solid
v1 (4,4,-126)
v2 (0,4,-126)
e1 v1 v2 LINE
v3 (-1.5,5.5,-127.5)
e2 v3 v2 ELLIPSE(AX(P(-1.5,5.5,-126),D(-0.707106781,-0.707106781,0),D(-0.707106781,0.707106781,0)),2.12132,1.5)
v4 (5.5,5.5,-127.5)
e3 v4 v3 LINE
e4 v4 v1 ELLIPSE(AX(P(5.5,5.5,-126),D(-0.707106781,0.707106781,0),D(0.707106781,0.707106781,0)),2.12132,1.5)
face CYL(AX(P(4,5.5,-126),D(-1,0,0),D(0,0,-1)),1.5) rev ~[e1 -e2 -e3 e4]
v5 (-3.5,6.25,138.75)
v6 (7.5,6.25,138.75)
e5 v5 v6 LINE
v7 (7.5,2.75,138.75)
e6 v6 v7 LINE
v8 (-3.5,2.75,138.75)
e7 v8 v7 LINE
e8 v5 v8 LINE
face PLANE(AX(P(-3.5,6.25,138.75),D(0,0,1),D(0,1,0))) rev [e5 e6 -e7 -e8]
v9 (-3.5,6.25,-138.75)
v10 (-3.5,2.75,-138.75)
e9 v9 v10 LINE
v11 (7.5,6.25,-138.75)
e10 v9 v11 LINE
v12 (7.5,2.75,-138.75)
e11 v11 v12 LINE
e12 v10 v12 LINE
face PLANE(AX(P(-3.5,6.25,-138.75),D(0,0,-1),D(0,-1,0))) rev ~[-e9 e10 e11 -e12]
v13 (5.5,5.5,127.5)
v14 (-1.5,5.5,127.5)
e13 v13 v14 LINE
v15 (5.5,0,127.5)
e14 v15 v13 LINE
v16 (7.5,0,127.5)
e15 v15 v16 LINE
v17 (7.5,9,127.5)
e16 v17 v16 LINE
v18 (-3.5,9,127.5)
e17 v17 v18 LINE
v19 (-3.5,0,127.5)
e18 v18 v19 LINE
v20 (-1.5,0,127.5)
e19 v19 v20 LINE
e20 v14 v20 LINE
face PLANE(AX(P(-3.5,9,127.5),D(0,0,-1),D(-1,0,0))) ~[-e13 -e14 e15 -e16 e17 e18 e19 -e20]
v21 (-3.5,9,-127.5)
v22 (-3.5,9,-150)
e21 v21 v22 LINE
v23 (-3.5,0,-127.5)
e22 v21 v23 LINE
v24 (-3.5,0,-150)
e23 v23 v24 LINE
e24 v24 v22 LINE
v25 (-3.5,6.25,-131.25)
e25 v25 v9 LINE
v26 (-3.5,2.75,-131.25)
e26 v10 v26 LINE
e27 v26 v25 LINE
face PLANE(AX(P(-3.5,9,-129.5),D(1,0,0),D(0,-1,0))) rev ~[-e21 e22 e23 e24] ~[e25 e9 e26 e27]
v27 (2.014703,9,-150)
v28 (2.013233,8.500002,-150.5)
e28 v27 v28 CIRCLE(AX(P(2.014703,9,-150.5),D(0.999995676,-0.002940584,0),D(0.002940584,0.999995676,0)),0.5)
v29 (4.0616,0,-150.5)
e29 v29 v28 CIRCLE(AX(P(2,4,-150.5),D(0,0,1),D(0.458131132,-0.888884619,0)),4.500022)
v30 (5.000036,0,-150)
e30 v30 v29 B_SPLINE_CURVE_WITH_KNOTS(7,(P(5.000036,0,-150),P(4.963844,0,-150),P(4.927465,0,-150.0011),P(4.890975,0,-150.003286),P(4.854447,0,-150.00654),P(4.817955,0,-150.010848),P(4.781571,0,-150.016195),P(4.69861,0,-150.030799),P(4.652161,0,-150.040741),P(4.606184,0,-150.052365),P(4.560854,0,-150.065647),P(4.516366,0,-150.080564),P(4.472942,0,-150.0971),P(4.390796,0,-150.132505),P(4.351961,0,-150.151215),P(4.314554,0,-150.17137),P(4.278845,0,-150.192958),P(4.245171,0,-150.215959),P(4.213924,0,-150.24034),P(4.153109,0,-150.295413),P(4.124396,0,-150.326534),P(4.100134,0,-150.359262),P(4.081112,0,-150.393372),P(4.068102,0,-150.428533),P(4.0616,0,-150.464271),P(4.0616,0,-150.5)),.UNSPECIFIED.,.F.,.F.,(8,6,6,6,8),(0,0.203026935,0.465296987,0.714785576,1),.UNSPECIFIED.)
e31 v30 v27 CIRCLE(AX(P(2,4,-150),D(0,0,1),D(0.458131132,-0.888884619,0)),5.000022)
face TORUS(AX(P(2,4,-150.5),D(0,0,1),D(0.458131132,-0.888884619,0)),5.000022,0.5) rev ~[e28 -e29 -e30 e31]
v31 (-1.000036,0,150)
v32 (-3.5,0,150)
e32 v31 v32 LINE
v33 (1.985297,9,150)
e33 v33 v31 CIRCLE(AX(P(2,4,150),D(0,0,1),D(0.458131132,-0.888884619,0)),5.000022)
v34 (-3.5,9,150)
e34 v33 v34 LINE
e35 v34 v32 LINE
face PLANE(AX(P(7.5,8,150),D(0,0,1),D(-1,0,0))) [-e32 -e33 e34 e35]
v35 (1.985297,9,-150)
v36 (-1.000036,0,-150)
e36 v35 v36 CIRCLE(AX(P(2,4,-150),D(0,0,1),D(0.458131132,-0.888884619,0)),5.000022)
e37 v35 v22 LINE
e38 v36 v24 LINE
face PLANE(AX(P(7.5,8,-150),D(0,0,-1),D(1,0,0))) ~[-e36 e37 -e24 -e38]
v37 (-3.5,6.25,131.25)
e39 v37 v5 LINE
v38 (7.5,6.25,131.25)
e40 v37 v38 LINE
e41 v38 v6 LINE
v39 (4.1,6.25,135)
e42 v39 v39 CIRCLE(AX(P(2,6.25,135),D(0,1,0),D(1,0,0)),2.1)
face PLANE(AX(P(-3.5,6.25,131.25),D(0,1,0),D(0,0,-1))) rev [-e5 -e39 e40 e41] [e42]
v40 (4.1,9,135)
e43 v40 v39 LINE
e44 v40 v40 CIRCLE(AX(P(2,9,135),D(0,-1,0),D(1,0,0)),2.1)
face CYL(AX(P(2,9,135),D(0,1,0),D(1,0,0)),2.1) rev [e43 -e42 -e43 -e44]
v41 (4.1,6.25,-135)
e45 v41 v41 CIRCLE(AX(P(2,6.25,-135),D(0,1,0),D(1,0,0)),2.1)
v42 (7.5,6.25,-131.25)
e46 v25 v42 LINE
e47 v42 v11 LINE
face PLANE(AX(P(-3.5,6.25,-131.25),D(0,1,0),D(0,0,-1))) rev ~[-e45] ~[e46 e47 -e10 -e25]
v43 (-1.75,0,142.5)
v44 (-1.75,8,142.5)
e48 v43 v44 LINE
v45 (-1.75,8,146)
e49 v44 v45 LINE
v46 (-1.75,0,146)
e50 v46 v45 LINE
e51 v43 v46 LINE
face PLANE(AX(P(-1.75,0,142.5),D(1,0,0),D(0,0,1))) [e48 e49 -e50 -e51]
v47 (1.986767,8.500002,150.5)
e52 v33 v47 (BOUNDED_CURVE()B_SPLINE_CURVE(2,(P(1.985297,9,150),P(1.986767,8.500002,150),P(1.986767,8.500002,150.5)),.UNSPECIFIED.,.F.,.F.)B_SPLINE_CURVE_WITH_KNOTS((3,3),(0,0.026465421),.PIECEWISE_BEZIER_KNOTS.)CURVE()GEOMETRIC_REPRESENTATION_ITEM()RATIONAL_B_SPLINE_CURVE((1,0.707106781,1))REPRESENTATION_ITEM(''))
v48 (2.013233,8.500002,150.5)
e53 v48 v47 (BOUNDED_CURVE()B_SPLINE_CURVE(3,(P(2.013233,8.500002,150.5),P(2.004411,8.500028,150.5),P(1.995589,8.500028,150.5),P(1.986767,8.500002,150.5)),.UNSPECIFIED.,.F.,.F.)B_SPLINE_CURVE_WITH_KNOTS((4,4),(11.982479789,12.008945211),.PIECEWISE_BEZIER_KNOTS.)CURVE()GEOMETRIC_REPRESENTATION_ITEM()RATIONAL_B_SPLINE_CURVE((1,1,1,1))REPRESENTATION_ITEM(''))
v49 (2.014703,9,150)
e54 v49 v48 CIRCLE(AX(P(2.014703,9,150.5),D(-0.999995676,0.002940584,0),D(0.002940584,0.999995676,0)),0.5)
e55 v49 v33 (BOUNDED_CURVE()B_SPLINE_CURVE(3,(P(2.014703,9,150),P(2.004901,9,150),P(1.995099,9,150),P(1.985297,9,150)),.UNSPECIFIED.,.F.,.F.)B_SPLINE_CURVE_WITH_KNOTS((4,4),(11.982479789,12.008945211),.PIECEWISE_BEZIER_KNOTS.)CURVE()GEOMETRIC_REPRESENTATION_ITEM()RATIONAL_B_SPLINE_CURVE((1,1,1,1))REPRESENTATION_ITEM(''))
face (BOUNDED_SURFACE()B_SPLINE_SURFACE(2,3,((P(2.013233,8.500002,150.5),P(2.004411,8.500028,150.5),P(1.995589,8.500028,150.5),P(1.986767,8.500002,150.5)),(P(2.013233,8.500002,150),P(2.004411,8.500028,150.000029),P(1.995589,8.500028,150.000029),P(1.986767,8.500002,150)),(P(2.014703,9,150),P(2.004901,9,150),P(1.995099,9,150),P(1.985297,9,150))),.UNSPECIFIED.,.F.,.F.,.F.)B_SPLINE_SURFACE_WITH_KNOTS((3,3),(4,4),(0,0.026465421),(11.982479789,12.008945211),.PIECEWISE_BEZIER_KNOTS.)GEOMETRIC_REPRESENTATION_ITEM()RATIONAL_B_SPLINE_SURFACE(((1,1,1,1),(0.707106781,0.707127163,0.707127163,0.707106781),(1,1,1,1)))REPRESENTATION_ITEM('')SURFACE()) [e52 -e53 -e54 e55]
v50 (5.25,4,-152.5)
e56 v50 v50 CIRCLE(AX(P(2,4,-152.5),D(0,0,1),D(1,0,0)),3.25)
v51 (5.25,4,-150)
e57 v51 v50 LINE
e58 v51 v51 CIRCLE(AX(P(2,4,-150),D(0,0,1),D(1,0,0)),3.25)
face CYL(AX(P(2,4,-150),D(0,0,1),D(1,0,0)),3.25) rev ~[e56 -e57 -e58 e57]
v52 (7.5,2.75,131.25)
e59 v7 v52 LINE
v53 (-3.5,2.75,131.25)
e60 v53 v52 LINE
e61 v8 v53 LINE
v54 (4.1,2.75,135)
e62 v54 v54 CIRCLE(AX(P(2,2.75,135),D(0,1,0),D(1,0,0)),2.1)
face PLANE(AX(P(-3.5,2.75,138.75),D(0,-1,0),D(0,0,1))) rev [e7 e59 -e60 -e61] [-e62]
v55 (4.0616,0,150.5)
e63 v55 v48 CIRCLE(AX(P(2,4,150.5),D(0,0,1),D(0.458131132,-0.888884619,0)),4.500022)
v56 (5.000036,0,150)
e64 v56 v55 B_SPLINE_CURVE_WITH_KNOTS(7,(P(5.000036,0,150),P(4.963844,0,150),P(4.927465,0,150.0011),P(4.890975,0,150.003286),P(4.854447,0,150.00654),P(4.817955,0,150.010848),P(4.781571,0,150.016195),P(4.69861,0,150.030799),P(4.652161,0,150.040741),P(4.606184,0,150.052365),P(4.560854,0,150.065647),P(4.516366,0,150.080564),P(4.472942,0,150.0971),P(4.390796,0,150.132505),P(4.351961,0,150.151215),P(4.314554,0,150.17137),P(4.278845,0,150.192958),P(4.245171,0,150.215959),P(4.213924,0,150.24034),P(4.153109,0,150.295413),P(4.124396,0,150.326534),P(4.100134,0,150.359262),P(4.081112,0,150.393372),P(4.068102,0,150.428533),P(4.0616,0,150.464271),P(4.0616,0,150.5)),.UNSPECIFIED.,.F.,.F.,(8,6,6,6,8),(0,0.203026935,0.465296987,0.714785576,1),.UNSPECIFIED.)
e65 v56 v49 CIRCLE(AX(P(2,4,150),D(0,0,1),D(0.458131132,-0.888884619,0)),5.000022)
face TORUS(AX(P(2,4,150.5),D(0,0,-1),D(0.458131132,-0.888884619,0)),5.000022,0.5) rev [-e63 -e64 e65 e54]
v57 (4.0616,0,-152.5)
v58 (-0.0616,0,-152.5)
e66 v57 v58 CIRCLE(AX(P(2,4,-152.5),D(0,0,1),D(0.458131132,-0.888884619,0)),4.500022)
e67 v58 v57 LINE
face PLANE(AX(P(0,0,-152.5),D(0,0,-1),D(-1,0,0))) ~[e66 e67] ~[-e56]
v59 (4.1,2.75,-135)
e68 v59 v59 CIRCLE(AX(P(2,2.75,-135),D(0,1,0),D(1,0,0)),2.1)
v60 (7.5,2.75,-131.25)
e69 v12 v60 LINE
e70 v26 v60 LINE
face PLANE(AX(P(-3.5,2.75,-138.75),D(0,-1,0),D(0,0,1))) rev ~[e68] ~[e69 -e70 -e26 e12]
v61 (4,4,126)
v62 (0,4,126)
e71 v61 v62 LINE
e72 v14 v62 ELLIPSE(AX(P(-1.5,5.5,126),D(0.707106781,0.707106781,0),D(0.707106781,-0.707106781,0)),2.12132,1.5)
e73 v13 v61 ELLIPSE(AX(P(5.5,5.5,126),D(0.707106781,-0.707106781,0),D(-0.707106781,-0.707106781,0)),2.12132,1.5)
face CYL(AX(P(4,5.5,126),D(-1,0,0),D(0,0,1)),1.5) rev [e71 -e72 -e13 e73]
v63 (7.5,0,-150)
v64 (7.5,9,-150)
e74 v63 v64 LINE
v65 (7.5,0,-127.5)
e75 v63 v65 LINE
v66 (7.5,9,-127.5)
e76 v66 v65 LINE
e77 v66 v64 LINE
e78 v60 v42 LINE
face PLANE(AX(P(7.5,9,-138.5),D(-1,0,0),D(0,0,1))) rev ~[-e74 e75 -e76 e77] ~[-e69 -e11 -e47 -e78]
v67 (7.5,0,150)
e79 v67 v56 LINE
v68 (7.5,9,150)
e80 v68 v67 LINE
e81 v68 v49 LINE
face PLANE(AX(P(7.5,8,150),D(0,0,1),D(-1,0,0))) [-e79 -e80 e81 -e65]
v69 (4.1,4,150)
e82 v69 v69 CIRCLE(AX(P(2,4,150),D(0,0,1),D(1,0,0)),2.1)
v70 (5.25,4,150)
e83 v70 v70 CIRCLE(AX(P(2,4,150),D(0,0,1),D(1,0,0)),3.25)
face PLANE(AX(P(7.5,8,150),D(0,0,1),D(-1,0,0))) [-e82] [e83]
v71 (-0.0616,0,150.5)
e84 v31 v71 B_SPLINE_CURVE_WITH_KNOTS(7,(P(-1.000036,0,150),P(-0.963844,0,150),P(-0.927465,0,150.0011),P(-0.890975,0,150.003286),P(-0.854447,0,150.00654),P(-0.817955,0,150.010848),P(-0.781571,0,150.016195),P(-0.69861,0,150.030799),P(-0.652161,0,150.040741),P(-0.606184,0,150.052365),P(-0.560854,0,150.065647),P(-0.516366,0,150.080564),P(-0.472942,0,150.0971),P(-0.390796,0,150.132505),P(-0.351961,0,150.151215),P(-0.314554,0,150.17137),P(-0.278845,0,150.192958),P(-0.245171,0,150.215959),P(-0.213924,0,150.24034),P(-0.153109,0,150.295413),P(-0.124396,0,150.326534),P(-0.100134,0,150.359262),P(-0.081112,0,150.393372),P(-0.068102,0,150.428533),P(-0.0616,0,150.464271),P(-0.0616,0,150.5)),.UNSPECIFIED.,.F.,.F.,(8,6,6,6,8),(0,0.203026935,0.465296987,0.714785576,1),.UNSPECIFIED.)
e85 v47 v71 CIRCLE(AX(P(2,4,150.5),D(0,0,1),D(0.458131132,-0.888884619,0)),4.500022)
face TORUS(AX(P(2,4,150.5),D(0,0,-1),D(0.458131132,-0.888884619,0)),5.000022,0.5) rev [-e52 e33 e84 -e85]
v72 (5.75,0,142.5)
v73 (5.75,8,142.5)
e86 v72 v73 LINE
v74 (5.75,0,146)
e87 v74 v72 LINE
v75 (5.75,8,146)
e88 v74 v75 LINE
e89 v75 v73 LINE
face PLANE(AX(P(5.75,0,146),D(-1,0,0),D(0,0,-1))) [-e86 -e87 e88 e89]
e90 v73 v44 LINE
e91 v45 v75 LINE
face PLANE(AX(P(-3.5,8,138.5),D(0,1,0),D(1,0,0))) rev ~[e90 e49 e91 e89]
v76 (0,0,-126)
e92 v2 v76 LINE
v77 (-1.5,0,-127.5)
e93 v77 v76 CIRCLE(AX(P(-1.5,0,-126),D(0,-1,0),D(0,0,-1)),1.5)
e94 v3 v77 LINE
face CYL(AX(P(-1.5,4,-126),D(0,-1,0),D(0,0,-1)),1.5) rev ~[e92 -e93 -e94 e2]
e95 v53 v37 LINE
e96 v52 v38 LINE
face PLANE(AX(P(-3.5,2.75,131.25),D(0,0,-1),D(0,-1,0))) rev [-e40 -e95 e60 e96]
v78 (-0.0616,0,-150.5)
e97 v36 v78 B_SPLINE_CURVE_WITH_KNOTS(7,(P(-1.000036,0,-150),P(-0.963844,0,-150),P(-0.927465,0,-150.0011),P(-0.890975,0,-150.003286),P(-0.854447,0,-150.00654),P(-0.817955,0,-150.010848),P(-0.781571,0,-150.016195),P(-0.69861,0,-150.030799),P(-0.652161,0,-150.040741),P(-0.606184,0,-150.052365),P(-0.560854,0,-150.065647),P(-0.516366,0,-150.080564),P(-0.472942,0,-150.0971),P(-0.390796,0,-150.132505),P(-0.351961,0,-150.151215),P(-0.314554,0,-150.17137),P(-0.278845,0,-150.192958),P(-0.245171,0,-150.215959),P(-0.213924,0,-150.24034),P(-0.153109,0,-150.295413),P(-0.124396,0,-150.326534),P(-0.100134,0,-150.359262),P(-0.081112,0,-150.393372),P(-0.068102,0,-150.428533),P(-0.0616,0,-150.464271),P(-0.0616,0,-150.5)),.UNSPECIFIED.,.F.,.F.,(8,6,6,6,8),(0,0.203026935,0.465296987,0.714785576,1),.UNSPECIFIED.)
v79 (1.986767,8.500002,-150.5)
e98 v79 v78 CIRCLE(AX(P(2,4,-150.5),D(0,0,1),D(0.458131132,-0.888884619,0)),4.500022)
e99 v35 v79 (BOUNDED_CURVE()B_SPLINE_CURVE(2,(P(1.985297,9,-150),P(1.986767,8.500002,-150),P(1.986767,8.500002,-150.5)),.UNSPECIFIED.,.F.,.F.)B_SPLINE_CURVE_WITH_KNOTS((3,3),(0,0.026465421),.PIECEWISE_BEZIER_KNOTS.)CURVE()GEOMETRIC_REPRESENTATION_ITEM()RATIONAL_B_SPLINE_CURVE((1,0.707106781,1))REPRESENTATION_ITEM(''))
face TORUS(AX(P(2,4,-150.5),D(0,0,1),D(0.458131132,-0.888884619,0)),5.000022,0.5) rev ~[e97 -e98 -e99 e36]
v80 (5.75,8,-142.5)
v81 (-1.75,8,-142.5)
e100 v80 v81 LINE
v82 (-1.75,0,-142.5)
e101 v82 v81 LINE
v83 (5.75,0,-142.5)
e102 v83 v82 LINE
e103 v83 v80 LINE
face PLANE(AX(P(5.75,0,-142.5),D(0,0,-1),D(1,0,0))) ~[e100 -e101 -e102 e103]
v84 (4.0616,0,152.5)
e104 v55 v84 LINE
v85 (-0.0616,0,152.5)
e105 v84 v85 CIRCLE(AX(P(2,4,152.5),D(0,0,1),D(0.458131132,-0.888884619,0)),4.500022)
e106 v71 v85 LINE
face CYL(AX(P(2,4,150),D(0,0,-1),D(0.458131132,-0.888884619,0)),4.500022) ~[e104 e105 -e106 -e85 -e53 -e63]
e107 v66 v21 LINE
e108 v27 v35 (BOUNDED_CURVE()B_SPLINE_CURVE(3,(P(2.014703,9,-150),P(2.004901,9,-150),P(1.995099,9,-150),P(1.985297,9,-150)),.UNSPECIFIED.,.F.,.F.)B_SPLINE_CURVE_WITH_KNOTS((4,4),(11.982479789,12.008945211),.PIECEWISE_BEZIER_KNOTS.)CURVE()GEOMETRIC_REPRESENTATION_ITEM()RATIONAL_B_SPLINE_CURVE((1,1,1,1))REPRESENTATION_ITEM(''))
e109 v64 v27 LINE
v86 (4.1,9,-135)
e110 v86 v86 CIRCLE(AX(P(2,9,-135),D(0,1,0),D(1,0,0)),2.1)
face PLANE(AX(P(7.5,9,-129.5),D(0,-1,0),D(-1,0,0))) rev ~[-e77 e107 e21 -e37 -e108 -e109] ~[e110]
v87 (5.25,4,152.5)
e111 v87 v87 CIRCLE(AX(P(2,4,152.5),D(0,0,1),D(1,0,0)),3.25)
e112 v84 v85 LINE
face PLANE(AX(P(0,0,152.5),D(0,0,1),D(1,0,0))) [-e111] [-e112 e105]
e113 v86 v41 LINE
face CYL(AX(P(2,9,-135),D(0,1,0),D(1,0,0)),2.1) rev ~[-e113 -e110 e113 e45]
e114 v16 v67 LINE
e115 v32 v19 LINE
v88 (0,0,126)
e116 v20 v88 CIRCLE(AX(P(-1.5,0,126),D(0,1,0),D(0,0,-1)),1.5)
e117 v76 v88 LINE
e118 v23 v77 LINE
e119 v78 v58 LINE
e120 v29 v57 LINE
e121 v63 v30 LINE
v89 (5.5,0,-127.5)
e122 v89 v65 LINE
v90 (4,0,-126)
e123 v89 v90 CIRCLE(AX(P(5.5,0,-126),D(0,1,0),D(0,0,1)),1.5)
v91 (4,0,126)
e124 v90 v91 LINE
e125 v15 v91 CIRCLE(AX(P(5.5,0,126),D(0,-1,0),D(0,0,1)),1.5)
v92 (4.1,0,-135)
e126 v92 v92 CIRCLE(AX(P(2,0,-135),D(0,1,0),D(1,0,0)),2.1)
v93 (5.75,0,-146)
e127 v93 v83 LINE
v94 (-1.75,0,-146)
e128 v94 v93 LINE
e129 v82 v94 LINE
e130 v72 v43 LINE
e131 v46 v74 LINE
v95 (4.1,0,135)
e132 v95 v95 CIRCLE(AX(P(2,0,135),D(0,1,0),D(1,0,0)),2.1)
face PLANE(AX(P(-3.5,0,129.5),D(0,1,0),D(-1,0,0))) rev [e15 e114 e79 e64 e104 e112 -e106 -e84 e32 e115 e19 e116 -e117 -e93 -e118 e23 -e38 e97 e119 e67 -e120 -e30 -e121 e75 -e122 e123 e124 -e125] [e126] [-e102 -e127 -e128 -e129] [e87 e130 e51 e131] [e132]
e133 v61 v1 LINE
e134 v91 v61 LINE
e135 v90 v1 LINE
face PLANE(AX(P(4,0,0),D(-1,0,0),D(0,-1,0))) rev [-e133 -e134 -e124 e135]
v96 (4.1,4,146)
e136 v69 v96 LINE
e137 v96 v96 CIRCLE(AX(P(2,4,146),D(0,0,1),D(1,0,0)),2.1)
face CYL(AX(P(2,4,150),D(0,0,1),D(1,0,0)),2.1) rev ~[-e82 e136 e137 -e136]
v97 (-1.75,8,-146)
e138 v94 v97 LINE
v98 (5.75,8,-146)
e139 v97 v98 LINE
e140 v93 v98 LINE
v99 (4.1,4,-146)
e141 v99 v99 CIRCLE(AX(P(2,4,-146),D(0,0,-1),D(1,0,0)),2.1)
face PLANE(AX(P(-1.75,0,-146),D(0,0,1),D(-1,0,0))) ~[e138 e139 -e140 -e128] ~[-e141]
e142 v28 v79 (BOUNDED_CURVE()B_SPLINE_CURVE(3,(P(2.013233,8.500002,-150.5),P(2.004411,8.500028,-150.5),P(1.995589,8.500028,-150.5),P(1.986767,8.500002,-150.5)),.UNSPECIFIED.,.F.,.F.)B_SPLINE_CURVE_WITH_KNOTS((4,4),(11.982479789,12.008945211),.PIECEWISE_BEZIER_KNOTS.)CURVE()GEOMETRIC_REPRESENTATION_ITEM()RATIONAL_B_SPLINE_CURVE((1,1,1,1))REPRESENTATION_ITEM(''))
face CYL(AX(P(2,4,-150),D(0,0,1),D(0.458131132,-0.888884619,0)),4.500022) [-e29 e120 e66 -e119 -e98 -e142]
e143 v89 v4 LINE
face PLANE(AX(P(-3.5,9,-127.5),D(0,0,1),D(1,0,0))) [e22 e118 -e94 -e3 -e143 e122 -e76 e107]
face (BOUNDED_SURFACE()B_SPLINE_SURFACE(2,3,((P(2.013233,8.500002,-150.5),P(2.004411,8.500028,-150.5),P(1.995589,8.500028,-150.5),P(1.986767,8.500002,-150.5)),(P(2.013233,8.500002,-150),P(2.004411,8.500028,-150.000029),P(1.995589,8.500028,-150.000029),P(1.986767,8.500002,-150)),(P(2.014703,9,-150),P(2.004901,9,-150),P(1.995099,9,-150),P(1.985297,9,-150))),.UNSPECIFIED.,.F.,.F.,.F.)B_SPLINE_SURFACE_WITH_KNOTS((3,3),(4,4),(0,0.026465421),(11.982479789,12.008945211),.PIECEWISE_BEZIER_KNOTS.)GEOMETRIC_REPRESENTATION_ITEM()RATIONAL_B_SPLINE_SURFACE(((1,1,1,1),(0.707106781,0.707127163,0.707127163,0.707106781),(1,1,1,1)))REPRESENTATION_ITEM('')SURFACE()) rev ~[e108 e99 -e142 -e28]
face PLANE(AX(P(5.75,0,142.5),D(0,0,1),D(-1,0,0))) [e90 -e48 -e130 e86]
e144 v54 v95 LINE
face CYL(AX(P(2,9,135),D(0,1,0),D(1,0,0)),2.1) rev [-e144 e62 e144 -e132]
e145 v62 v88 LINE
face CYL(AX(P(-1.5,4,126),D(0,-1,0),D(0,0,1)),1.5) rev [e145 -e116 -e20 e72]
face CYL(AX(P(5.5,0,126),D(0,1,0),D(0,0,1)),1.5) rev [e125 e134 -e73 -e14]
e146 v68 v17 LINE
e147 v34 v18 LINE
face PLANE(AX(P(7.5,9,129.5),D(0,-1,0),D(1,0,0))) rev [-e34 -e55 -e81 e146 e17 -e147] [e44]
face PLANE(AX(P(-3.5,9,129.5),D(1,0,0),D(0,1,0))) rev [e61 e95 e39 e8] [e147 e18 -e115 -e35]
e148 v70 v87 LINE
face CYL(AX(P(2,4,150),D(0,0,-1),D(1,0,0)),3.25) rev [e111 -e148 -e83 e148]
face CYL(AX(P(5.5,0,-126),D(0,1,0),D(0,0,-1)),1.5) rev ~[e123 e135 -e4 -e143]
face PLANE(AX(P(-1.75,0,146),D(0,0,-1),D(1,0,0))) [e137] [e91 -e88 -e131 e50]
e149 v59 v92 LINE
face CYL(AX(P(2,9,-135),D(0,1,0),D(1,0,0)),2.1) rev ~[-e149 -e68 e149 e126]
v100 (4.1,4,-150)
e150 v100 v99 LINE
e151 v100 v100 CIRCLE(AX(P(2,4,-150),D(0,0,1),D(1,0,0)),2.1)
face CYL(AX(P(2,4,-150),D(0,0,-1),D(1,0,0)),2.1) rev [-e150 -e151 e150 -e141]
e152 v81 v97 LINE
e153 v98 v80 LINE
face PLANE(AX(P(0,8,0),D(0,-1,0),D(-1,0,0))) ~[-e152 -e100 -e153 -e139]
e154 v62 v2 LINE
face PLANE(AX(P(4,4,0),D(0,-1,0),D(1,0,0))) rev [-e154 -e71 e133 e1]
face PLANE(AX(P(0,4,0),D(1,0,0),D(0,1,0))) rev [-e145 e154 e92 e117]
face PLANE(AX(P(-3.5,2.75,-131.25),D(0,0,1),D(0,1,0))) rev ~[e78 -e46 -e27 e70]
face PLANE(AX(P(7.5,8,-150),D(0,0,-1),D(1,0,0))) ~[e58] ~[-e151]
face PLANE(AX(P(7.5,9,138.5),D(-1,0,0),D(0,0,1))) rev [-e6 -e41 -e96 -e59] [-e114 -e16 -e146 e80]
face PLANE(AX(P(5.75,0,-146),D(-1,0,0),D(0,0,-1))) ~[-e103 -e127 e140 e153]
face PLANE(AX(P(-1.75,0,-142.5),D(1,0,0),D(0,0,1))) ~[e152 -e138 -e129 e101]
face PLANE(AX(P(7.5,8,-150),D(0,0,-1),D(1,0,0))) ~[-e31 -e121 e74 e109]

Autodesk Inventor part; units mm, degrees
ref_plane "YZ Plane" through (0, 0, 0) normal (1, 0, 0) x (0, 1, 0)
ref_plane "XZ Plane" through (0, 0, 0) normal (0, 1, 0) x (-1, 0, 0)
ref_plane "XY Plane" through (0, 0, 0) normal (0, 0, 1) x (1, 0, 0)
sketch "Sketch1" plane through (0, 0, 0) normal (0, 0, 1) x (1, 0, 0)
  line L0 (0, 0) -> (4, 0)
  line L1 (4, 0) -> (4, 4)
  line L2 (4, 4) -> (0, 4)
  line L3 (0, 4) -> (0, 0)
  dimension "d0" = 4
  dimension "d1" = 4
extrude "Extrusion1" add sketch "Sketch1" along normal blind 138.5
sketch "Sketch3" plane through (0, 0, 138.5) normal (0, 0, 1) x (1, 0, 0)
  line L0 (0, 0) -> (4, 0) projected
  line L1 (-3.5, 0) -> (7.5, 0)
  line L2 (7.5, 0) -> (7.5, 8)
  line L3 (7.5, 8) -> (-3.5, 8)
  line L4 (-3.5, 8) -> (-3.5, 0)
  point P0 (2, 0)
  dimension "d4" = 11
  dimension "d5" = 8
extrude "Extrusion2" add sketch "Sketch3" along normal blind 11.5
sketch "Sketch4" plane through (0, 0, 0) normal (0, -1, 0) x (1, 0, 0)
  line L0 (7.5, 138.5) -> (7.5, 150) projected
  line L1 (-3.5, 150) -> (7.5, 150) projected
  line L2 (-1.75, 146) -> (5.75, 146)
  line L3 (5.75, 146) -> (5.75, 142.5)
  line L4 (5.75, 142.5) -> (-1.75, 142.5)
  line L5 (-1.75, 142.5) -> (-1.75, 146)
  point P0 (2, 146)
  point P1 (2, 150)
  point P2 (5.75, 144.25)
  point P3 (7.5, 144.25)
  dimension "d8" = 7.5
  dimension "d9" = 3.5
extrude "Extrusion3" cut sketch "Sketch4" against normal blind 8
sketch "Sketch5" plane through (0, 0, 150) normal (0, 0, 1) x (1, 0, 0)
  circle A0 centre (2, 4) radius 2.1
  point P0 (0, 0)
  dimension "d12" = 4.2
extrude "Extrusion4" cut sketch "Sketch5" against normal up to surface (7.5 mm away)
sketch "Sketch6" plane through (-3.5, 8, 138.5) normal (0, 1, 0) x (1, 0, 0)
  line L0 (11, 0) -> (0, 0) projected
  line L1 (0, 0) -> (0, -11.5) projected
  line L2 (11, -11.5) -> (0, -11.5) projected
  line L3 (11, 0) -> (11, -11.5) projected
  point P0 (3.5, 138.5)
extrude "Extrusion5" add sketch "Sketch6" along normal blind 1
mirror "Mirror2" about plane through (0, 0, 0) normal (0, 0, 1) of "Extrusion1", "Extrusion5", "Extrusion2", "Extrusion3", "Extrusion4"
sketch "Sketch7" plane through (0, 0, 150) normal (0, 0, 1) x (1, 0, 0)
  line L0 (-3.5, 0) -> (7.5, 0) projected
  arc A0 (4.0616, 0) -> (-0.0616, 0) centre (2, 4) ccw
  line L1 (0, 0) -> (-0.0616, 0)
  line L2 (-0.0616, 0) -> (4.0616, 0)
  circle A1 centre (2, 4) radius 3.25
  dimension "d17" = 9
  dimension "d18" = 6.5
extrude "Extrusion6" add sketch "Sketch7" along normal blind 2.5
sketch "Sketch8" plane through (-3.5, 8, 138.5) normal (0, -1, 0) x (1, 0, 0)
  line L0 (1.75, 7.5) -> (1.75, 4) projected
  line L1 (1.75, 4) -> (9.25, 4) projected
  line L2 (9.25, 4) -> (9.25, 7.5) projected
  line L3 (9.25, 7.5) -> (1.75, 7.5) projected
  point P0 (3.5, -138.5)
mirror "Mirror3" about plane through (0, 0, 0) normal (0, 0, 1) of "Extrusion6"
sketch "Sketch10" plane through (-3.5, 9, -138.5) normal (0, 1, 0) x (1, 0, 0)
  line L0 (0, 0) -> (11, 0)
  line L1 (11, 0) -> (11, -9)
  line L2 (11, -9) -> (0, -9)
  line L3 (0, -9) -> (0, 0)
  point P0 (3.5, -138.5)
  dimension "d21" = 9
extrude "Extrusion7" add sketch "Sketch10" against normal up to surface (9 mm away)
sketch "Sketch11" plane through (-3.5, 9, -150) normal (0, 1, 0) x (1, 0, 0)
  line L0 (11, -20.5) -> (0, -20.5) projected
  circle A0 centre (5.5, -15) radius 2.1
  point P0 (3.5, -150)
  dimension "d24" = 4.2
  dimension "d25" = 5.5
extrude "Extrusion8" cut sketch "Sketch11" against normal blind 11
sketch "Sketch12" plane through (-3.5, 0, -150) normal (-1, 0, 0) x (0, 0, 1)
  line L0 (20.5, 9) -> (20.5, 0) projected
  line L1 (18.75, 6.25) -> (11.25, 6.25)
  line L2 (11.25, 6.25) -> (11.25, 2.75)
  line L3 (11.25, 2.75) -> (18.75, 2.75)
  line L4 (18.75, 2.75) -> (18.75, 6.25)
  point P0 (150, 0)
  point P1 (18.75, 4.5)
  point P2 (20.5, 4.5)
  dimension "d28" = 7.5
  dimension "d29" = 3.5
  dimension "d30" = 1.75
extrude "Extrusion9" cut sketch "Sketch12" against normal blind 11
fillet "Fillet3" radius 0.5 1 edges at (2, 8.5, -150)
sketch "Sketch14" plane through (-3.5, 9, -129.5) normal (0, 0, 1) x (1, 0, 0)
  line L0 (7.5, -9) -> (7.5, -5) projected
  line L1 (7.5, -9) -> (11, -9) projected
  line L2 (11, 0) -> (11, -9) projected
  line L3 (11, 0) -> (0, 0) projected
  line L4 (0, 0) -> (0, -9) projected
  line L5 (0, -9) -> (3.5, -9) projected
  line L6 (3.5, -5) -> (3.5, -9) projected
  line L7 (7.5, -5) -> (3.5, -5) projected
extrude "Extrusion10" add sketch "Sketch14" along normal blind 2
fillet "Fillet4" radius 1.5 3 edges at (4, 2, -127.5) (2, 4, -127.5) (0, 2, -127.5)
mirror "Mirror5" about plane through (0, 0, 0) normal (0, 0, 1) of "Extrusion7", "Extrusion8", "Extrusion9", "Extrusion10"
fillet "Fillet5" radius 1.5 3 edges at (0, 2, 127.5) (2, 4, 127.5) (4, 2, 127.5)
fillet "Fillet6" radius 0.5 1 edges at (2, 8.5, 150)
properties part number "Axle300mm"
